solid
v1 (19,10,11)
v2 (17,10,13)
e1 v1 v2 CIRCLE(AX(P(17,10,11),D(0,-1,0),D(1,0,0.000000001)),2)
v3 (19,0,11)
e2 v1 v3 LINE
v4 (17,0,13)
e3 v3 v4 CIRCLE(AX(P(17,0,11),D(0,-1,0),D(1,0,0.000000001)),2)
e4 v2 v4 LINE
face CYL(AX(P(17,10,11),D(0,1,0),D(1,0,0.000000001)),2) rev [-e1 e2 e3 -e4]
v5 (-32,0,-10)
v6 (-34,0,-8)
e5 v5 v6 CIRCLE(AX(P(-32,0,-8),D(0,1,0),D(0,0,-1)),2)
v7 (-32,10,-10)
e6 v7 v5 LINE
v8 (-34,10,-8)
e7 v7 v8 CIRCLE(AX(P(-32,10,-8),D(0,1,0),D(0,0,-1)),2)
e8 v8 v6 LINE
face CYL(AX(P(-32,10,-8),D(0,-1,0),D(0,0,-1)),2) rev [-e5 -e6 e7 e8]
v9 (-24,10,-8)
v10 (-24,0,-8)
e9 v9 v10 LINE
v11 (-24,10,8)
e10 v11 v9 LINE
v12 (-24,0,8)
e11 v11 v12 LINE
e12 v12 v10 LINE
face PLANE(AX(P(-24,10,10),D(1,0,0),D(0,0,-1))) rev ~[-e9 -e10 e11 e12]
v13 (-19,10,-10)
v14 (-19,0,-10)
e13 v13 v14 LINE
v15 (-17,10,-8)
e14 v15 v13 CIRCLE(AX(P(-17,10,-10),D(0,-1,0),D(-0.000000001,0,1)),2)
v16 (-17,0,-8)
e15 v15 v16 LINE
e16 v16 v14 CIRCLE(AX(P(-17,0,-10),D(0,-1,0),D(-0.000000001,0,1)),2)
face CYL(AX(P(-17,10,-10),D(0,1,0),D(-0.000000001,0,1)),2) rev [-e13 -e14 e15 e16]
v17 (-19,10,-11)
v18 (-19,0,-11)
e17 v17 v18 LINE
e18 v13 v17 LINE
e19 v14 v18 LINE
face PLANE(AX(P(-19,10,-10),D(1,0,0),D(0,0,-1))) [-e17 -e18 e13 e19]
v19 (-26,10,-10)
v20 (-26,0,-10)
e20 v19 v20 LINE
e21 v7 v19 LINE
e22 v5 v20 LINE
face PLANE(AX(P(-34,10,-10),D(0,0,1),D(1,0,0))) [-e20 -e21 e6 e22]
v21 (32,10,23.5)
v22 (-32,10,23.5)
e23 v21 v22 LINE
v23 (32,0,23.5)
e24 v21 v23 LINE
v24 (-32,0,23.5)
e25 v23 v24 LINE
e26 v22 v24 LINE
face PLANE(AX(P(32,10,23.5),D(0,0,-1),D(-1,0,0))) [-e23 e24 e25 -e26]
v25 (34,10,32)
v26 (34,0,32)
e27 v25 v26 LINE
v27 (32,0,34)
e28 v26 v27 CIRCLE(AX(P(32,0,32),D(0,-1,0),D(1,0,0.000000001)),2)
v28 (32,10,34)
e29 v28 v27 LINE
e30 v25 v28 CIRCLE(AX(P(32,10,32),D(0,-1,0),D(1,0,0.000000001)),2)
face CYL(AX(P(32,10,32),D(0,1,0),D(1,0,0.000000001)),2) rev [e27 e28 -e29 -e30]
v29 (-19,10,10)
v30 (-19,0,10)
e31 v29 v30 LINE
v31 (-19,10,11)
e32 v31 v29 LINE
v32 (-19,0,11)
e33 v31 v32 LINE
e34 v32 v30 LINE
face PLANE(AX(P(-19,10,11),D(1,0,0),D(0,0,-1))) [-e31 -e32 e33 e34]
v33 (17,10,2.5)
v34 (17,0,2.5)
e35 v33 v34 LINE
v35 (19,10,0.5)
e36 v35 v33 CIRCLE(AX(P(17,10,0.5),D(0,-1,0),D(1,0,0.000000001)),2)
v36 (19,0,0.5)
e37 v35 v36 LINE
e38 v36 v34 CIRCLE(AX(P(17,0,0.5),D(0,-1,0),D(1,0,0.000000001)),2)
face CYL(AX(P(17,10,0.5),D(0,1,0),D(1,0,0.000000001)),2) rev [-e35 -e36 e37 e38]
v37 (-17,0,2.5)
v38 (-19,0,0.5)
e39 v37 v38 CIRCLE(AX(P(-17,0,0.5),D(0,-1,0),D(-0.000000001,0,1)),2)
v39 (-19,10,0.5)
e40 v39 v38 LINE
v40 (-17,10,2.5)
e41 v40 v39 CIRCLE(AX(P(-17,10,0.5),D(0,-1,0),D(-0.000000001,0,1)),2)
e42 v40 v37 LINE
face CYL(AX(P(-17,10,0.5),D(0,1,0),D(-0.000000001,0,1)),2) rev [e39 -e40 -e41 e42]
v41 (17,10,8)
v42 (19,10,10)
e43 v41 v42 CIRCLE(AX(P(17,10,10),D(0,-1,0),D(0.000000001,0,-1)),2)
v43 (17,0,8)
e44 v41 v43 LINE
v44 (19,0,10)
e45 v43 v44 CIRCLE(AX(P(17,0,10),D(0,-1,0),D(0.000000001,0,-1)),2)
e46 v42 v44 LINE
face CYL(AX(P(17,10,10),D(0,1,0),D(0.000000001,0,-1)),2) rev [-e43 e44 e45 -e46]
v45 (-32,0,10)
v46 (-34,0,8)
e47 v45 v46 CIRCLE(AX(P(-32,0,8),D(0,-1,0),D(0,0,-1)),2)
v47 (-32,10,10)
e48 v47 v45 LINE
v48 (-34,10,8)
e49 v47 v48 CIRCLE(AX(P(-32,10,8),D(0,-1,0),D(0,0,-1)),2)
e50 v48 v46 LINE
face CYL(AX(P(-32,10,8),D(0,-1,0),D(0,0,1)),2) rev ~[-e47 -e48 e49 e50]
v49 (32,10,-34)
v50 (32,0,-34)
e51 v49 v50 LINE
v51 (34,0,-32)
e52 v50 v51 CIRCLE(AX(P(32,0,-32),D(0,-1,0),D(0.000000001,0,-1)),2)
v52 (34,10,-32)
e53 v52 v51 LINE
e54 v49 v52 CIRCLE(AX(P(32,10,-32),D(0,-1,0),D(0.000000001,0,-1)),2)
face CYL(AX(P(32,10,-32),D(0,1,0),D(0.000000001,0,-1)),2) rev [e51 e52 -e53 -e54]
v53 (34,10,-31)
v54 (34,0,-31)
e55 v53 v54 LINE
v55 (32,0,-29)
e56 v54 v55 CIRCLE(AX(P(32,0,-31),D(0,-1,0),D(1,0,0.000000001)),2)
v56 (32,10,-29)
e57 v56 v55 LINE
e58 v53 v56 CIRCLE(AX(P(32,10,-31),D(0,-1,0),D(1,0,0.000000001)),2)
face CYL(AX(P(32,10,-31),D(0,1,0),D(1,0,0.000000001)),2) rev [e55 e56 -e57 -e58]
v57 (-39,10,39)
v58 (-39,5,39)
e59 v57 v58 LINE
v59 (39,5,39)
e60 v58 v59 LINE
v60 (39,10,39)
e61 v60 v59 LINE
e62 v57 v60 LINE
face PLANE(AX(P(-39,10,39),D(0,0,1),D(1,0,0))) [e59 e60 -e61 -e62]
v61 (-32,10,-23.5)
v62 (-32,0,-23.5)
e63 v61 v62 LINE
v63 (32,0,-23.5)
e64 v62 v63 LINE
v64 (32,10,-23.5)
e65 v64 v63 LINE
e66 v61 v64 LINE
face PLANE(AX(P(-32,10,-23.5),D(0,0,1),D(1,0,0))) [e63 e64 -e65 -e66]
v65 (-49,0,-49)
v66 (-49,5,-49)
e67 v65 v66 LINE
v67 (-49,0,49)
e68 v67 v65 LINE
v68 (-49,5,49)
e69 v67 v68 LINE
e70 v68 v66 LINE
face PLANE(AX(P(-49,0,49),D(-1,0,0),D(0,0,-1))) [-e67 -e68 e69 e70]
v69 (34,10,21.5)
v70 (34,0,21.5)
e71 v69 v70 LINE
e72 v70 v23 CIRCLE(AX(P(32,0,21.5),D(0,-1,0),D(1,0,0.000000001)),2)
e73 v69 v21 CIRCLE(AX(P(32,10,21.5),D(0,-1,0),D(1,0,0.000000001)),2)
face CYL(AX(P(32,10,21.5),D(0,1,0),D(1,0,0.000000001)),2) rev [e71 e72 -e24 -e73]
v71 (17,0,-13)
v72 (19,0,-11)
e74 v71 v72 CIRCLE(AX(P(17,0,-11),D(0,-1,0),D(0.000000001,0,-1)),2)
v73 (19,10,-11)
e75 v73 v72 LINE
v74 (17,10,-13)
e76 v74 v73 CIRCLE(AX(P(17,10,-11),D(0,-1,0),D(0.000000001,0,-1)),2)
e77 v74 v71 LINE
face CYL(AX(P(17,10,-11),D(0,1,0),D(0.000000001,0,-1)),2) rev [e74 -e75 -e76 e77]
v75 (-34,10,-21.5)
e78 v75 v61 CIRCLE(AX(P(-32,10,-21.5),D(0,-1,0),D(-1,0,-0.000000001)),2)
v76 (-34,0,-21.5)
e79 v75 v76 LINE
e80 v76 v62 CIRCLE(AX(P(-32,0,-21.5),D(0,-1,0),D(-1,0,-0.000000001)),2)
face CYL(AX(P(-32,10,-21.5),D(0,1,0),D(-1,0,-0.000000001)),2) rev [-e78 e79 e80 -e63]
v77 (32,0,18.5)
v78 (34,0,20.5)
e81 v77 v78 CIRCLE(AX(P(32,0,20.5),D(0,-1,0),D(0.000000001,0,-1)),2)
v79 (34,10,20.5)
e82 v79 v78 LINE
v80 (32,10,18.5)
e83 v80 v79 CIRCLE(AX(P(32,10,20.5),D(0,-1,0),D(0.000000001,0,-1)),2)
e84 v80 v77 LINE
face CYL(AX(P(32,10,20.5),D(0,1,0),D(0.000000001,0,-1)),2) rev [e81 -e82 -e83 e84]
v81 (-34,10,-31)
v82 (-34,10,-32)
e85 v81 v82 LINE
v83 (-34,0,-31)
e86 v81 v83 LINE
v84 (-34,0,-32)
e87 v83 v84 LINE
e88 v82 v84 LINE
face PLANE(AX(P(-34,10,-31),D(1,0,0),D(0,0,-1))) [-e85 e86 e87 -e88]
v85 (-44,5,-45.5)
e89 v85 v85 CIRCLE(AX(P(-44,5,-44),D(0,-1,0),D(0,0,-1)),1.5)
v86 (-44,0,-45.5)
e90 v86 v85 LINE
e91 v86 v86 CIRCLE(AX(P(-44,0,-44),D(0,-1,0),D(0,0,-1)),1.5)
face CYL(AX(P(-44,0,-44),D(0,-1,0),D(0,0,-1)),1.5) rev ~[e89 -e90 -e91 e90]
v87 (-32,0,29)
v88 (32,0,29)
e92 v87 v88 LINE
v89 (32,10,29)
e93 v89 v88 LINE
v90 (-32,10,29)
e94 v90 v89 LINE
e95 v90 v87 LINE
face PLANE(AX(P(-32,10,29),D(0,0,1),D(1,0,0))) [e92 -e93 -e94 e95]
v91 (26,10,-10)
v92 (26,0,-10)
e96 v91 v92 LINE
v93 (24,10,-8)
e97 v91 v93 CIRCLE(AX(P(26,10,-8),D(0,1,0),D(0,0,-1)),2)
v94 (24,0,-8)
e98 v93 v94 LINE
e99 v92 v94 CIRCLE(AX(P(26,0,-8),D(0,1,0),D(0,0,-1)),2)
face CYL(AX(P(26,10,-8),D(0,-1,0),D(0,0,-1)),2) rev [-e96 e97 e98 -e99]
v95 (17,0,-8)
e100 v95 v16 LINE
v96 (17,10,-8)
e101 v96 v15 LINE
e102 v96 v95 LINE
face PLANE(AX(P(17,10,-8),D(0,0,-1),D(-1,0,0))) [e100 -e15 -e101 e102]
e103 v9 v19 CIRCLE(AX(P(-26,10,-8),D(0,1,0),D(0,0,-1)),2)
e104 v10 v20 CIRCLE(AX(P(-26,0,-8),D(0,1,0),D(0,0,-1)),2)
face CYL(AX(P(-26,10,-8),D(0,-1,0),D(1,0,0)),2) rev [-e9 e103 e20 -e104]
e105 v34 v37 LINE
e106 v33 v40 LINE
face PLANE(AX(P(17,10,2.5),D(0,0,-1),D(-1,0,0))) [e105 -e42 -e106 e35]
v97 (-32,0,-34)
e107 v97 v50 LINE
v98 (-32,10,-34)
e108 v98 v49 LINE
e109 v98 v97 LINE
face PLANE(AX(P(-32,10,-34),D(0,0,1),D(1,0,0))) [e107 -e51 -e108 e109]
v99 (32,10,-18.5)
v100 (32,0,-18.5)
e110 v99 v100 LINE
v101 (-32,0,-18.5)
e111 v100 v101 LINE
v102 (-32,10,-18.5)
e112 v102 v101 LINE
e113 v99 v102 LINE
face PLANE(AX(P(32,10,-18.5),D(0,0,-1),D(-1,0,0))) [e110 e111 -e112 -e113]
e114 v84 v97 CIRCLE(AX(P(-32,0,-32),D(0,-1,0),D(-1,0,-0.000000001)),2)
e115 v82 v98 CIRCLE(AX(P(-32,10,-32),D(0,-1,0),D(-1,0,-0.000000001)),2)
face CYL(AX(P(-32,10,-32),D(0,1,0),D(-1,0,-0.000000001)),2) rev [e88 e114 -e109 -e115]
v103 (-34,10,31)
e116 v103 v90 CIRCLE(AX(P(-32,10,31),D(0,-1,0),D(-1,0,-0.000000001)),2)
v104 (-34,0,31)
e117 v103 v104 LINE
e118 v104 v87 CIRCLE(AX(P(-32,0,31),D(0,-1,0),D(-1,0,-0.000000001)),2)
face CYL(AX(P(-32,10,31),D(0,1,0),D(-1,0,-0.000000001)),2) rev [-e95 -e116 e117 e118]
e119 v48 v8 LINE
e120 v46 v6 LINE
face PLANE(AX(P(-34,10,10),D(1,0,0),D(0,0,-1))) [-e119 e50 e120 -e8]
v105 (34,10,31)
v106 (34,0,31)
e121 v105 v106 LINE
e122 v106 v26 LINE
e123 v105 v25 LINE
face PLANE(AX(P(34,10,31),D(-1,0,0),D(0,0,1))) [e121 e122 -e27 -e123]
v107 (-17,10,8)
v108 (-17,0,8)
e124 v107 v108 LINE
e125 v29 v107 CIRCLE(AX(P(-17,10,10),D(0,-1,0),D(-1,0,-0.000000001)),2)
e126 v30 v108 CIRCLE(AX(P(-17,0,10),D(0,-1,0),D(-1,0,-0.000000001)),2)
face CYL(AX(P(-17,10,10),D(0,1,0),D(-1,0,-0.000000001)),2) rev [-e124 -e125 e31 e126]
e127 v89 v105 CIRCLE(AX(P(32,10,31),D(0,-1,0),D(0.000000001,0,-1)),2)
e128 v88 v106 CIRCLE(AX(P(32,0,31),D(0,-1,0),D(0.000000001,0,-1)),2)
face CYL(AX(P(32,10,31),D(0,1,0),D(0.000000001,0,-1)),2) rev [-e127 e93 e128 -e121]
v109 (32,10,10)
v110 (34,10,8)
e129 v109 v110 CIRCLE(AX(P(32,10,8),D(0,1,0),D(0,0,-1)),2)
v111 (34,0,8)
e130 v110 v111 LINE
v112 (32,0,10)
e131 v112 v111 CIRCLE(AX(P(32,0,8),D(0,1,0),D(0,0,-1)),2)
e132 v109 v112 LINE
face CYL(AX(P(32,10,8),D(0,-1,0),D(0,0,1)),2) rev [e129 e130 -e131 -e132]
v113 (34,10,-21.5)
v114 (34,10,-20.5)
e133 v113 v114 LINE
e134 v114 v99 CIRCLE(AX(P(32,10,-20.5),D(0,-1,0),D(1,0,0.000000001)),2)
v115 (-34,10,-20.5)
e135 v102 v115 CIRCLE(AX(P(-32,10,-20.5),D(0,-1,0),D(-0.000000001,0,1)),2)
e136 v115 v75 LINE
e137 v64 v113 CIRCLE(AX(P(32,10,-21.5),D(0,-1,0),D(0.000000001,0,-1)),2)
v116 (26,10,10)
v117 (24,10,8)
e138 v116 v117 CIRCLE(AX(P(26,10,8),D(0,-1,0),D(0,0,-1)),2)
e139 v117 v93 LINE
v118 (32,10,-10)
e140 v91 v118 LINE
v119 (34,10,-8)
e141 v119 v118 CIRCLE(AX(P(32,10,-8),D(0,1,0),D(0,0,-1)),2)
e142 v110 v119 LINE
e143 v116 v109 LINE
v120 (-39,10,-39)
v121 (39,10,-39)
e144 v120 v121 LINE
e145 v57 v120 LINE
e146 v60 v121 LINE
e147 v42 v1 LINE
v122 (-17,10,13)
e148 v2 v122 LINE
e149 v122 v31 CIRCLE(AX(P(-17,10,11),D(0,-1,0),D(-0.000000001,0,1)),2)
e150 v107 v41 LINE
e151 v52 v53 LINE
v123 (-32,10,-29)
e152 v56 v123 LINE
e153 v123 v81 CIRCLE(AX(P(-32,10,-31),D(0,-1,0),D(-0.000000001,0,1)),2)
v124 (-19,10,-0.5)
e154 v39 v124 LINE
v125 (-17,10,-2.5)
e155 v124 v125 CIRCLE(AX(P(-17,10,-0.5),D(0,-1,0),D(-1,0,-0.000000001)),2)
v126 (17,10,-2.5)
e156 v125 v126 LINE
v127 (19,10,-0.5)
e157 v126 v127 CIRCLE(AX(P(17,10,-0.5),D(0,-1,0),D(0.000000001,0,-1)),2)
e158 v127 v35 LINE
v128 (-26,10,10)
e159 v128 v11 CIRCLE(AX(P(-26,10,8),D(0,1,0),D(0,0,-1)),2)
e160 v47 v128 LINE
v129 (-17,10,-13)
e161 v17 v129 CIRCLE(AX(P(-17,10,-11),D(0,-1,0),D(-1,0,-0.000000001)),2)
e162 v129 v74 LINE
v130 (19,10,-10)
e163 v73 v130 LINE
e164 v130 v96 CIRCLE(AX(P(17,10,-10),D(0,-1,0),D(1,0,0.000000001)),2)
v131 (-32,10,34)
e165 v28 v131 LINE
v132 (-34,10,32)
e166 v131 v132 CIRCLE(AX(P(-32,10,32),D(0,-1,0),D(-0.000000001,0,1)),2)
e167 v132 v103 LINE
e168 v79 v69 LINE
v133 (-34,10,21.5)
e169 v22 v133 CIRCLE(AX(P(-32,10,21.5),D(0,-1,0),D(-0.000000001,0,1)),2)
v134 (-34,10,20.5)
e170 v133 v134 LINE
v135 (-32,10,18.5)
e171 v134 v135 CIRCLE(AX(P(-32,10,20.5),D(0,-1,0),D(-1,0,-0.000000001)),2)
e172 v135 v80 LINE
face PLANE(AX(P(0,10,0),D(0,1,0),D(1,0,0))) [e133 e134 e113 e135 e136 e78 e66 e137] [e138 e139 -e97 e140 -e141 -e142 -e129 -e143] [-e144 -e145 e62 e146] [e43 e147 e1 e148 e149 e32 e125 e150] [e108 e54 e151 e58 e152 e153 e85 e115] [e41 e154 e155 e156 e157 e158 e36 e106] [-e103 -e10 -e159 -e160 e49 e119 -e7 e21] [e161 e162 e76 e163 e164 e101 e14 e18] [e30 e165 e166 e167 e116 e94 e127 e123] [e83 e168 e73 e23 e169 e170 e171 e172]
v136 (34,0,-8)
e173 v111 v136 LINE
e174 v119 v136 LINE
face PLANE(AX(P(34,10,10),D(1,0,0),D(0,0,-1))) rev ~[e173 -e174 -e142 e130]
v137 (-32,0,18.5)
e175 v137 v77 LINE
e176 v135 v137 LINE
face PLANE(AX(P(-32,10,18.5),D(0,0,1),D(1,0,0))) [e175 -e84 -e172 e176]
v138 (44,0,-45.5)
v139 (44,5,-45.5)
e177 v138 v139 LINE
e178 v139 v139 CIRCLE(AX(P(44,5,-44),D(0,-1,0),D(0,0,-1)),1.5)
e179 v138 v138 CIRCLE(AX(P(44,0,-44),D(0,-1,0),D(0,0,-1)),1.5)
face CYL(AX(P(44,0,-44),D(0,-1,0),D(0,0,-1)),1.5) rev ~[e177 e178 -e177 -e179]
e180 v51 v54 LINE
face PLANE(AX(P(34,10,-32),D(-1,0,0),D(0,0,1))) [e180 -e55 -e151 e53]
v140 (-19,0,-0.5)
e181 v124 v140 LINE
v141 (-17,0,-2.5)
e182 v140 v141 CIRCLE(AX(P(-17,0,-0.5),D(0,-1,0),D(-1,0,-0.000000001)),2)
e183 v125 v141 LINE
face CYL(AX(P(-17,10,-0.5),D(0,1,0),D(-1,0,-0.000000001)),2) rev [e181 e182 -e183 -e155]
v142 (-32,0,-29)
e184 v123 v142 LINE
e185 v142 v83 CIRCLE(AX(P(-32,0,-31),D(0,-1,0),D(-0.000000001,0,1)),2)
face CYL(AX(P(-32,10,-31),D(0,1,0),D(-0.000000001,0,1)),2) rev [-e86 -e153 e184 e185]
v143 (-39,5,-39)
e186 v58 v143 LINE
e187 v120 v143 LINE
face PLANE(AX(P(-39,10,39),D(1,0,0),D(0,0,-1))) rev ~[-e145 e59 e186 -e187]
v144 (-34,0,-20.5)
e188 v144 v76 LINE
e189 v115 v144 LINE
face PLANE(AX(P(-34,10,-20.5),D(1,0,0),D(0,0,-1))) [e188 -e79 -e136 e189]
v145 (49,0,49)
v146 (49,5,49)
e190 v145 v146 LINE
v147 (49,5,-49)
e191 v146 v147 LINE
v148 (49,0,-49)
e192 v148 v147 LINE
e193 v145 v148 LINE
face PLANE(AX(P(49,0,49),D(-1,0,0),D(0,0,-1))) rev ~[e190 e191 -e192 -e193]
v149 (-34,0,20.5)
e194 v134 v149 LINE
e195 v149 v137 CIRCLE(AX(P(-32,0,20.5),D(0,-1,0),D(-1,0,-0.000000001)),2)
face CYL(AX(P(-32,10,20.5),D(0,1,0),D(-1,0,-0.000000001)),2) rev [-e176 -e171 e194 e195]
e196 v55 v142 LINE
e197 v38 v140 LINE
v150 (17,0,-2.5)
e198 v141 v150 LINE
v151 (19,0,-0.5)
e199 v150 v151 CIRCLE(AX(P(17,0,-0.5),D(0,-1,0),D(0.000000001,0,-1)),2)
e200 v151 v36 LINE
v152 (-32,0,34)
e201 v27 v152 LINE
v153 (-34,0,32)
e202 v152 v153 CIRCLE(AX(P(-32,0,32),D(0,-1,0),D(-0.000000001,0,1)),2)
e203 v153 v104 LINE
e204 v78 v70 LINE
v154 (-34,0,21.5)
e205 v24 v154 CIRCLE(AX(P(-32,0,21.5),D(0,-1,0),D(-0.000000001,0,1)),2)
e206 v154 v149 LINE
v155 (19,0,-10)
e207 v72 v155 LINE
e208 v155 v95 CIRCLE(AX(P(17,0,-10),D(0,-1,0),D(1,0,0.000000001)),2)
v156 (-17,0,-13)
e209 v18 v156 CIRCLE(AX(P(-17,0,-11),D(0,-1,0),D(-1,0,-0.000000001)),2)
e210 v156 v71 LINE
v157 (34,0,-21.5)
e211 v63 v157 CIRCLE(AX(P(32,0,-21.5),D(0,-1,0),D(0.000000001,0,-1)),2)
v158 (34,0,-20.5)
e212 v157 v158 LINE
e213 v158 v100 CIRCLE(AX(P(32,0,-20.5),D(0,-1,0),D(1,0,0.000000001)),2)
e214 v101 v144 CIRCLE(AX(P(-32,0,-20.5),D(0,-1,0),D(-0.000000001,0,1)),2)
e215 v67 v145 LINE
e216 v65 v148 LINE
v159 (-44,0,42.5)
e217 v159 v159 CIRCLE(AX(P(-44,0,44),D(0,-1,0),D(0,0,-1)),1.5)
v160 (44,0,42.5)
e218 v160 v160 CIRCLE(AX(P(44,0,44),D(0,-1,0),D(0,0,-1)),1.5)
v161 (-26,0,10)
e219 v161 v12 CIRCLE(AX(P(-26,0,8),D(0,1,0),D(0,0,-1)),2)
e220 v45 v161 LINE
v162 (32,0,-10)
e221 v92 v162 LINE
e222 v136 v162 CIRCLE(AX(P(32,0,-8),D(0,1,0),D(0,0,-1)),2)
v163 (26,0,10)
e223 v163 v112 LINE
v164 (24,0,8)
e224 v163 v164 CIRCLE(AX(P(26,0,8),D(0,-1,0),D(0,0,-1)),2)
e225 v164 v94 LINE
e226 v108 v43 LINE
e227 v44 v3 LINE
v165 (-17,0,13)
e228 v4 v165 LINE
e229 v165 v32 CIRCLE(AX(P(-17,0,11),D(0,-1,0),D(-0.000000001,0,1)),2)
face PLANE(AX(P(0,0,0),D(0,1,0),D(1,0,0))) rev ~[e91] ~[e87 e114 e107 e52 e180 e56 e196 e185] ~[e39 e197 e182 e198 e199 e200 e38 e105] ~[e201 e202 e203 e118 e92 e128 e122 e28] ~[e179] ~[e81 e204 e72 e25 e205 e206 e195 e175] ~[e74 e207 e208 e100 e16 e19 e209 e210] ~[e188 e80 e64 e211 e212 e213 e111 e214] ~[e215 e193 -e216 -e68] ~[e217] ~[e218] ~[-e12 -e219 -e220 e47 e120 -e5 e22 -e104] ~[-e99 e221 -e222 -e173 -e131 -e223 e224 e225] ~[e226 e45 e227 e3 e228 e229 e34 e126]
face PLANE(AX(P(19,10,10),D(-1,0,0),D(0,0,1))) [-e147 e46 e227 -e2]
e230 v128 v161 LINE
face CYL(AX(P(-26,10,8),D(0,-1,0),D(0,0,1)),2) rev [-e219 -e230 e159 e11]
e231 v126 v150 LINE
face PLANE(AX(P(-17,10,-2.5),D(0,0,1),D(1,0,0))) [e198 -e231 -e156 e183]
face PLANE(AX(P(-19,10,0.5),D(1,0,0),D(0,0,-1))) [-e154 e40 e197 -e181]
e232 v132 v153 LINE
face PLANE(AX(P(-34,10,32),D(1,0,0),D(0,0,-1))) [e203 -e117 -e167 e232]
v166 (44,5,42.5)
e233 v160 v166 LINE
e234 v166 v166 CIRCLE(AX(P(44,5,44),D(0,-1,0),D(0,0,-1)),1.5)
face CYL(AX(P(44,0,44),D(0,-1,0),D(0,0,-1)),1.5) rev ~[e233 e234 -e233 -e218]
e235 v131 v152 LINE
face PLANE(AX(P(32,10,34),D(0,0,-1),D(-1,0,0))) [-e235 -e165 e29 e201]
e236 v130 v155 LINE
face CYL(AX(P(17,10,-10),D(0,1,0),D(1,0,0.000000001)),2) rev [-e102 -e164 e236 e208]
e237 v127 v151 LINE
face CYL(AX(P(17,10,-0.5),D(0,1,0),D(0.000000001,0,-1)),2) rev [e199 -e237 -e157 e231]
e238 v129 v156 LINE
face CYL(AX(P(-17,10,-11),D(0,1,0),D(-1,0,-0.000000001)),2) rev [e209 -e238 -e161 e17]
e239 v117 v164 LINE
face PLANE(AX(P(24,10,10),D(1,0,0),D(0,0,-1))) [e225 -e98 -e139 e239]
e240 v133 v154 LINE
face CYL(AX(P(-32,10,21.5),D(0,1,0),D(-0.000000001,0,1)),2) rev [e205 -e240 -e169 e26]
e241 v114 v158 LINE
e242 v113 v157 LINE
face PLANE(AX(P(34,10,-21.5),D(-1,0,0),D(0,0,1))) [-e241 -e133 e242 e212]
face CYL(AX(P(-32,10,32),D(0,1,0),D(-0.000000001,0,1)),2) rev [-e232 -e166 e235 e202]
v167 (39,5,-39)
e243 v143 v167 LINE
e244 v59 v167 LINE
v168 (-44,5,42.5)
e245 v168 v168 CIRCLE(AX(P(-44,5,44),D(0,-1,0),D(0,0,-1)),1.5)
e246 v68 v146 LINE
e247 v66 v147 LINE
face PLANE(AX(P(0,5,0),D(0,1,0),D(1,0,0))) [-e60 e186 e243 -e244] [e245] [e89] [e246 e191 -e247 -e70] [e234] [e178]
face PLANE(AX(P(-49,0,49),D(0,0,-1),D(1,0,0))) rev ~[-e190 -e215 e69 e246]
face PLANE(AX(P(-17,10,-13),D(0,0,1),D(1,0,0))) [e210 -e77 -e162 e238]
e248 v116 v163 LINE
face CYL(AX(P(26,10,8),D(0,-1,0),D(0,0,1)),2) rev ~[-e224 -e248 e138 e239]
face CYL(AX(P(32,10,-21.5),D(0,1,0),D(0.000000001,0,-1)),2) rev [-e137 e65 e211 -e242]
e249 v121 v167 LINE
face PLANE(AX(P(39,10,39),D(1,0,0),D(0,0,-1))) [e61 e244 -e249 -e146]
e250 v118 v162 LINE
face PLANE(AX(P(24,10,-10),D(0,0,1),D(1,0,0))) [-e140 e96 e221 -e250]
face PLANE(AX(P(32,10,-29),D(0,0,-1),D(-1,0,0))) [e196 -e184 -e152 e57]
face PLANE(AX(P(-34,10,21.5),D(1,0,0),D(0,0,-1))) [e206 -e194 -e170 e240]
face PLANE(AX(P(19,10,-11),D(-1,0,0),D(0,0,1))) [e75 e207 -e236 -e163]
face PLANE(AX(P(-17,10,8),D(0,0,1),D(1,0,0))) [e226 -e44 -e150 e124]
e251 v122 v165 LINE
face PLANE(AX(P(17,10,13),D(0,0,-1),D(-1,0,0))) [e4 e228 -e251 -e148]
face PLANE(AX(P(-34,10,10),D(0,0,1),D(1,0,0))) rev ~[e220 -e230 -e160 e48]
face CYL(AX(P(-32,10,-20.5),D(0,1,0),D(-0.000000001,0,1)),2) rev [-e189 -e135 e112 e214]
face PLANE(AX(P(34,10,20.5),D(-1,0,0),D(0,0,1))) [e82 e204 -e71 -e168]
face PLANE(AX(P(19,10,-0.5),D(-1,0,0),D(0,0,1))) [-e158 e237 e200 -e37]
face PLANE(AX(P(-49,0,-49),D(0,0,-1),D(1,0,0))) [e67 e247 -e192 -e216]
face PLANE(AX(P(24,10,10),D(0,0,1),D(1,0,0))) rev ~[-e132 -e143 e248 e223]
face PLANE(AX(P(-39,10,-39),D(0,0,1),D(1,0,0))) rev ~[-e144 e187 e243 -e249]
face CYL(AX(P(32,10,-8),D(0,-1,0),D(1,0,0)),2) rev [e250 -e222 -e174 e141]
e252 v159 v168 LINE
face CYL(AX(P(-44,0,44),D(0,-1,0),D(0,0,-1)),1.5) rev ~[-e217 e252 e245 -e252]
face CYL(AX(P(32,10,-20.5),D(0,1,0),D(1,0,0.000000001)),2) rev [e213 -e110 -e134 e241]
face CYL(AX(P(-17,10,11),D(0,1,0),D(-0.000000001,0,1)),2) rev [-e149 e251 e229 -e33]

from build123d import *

# Parameters (mm, degrees)
SKETCH1_W           = 98
SKETCH1_H           = 98
BOSS_EXTRUDE1_DEPTH = 10
SKETCH8_W           = 98
SKETCH8_H           = 98
SKETCH8_W_2         = 78
SKETCH8_H_2         = 78
CUT_EXTRUDE5_DEPTH  = 5
SKETCH14_R          = 1.5
CUT_EXTRUDE11_DEPTH = 10
SKETCH15_W          = 10
SKETCH15_H          = 20
CUT_EXTRUDE19_DEPTH = 10
FILLET1_R           = 2


with BuildPart() as part:
    # Sketch1 → Boss-Extrude1 (new body)
    with BuildSketch(Plane(origin=(0, 0, 0), x_dir=(1, 0, 0), z_dir=(0, 1, 0))):
        Rectangle(SKETCH1_W, SKETCH1_H)
    extrude(amount=BOSS_EXTRUDE1_DEPTH)

    # Sketch8 → Cut-Extrude5 (cut)
    with BuildSketch(Plane(origin=(0, 10, 0), x_dir=(1, 0, 0), z_dir=(0, 1, 0))):
        Rectangle(SKETCH8_W, SKETCH8_H)
        Rectangle(SKETCH8_W_2, SKETCH8_H_2, mode=Mode.SUBTRACT)
    extrude(amount=-CUT_EXTRUDE5_DEPTH, mode=Mode.SUBTRACT)

    # Sketch14 → Cut-Extrude11 (cut)
    with BuildSketch(Plane.XZ):
        with Locations(Location((-44, -44, 0), (0, 0, 270))):
            Circle(SKETCH14_R)
        with Locations(Location((-44, 44, 0), (0, 0, 270))):
            Circle(SKETCH14_R)
        with Locations(Location((44, 44, 0), (0, 0, 270))):
            Circle(SKETCH14_R)
        with Locations(Location((44, -44, 0), (0, 0, 270))):
            Circle(SKETCH14_R)
    extrude(amount=-CUT_EXTRUDE11_DEPTH, mode=Mode.SUBTRACT)

    # Sketch15 → Cut-Extrude19 (cut)
    with BuildSketch(Plane(origin=(0, 10, 0), x_dir=(1, 0, 0), z_dir=(0, 1, 0))):
        with BuildLine():
            ThreePointArc((-34, 32), (-33.414213562, 33.414213562), (-32, 34))
            Line((-32, 34), (32, 34))
            ThreePointArc((32, 34), (33.414213562, 33.414213562), (34, 32))
            Line((34, 32), (34, 31))
            ThreePointArc((34, 31), (33.414213562, 29.585786438), (32, 29))
            Line((32, 29), (14, 29))
            Line((14, 29), (-14, 29))
            Line((-14, 29), (-32, 29))
            ThreePointArc((-32, 29), (-33.414213562, 29.585786438), (-34, 31))
            Line((-34, 31), (-34, 32))
        make_face()
        with BuildLine():
            ThreePointArc((-34, 21.5), (-33.414213562, 22.914213562), (-32, 23.5))
            Line((-32, 23.5), (-14, 23.5))
            Line((-14, 23.5), (14, 23.5))
            Line((14, 23.5), (32, 23.5))
            ThreePointArc((32, 23.5), (33.414213562, 22.914213562), (34, 21.5))
            Line((34, 21.5), (34, 20.5))
            ThreePointArc((34, 20.5), (33.414213562, 19.085786438), (32, 18.5))
            Line((32, 18.5), (14, 18.5))
            Line((14, 18.5), (-14, 18.5))
            Line((-14, 18.5), (-32, 18.5))
            ThreePointArc((-32, 18.5), (-33.414213562, 19.085786438), (-34, 20.5))
            Line((-34, 20.5), (-34, 21.5))
        make_face()
        with BuildLine():
            ThreePointArc((-19, 11), (-18.414213562, 12.414213562), (-17, 13))
            Line((-17, 13), (-14, 13))
            Line((-14, 13), (14, 13))
            Line((14, 13), (17, 13))
            ThreePointArc((17, 13), (18.414213562, 12.414213562), (19, 11))
            Line((19, 11), (19, 10))
            ThreePointArc((19, 10), (18.414213562, 8.585786438), (17, 8))
            Line((17, 8), (14, 8))
            Line((14, 8), (-14, 8))
            Line((-14, 8), (-17, 8))
            ThreePointArc((-17, 8), (-18.414213562, 8.585786438), (-19, 10))
            Line((-19, 10), (-19, 11))
        make_face()
        with BuildLine():
            ThreePointArc((-19, 0.5), (-18.414213562, 1.914213562), (-17, 2.5))
            Line((-17, 2.5), (-14, 2.5))
            Line((-14, 2.5), (14, 2.5))
            Line((14, 2.5), (17, 2.5))
            ThreePointArc((17, 2.5), (18.414213562, 1.914213562), (19, 0.5))
            Line((19, 0.5), (19, -0.5))
            ThreePointArc((19, -0.5), (18.414213562, -1.914213562), (17, -2.5))
            Line((17, -2.5), (14, -2.5))
            Line((14, -2.5), (-14, -2.5))
            Line((-14, -2.5), (-17, -2.5))
            ThreePointArc((-17, -2.5), (-18.414213562, -1.914213562), (-19, -0.5))
            Line((-19, -0.5), (-19, 0.5))
        make_face()
        with BuildLine():
            ThreePointArc((-19, -10), (-18.414213562, -8.585786438), (-17, -8))
            Line((-17, -8), (-14, -8))
            Line((-14, -8), (14, -8))
            Line((14, -8), (17, -8))
            ThreePointArc((17, -8), (18.414213562, -8.585786438), (19, -10))
            Line((19, -10), (19, -11))
            ThreePointArc((19, -11), (18.414213562, -12.414213562), (17, -13))
            Line((17, -13), (14, -13))
            Line((14, -13), (-14, -13))
            Line((-14, -13), (-17, -13))
            ThreePointArc((-17, -13), (-18.414213562, -12.414213562), (-19, -11))
            Line((-19, -11), (-19, -10))
        make_face()
        with BuildLine():
            ThreePointArc((32, -18.5), (33.414213562, -19.085786438), (34, -20.5))
            Line((34, -20.5), (34, -21.5))
            ThreePointArc((34, -21.5), (33.414213562, -22.914213562), (32, -23.5))
            Line((32, -23.5), (14, -23.5))
            Line((14, -23.5), (-14, -23.5))
            Line((-14, -23.5), (-32, -23.5))
            ThreePointArc((-32, -23.5), (-33.414213562, -22.914213562), (-34, -21.5))
            Line((-34, -21.5), (-34, -20.5))
            ThreePointArc((-34, -20.5), (-33.414213562, -19.085786438), (-32, -18.5))
            Line((-32, -18.5), (-14, -18.5))
            Line((-14, -18.5), (14, -18.5))
            Line((14, -18.5), (32, -18.5))
        make_face()
        with BuildLine():
            ThreePointArc((32, -29), (33.414213562, -29.585786438), (34, -31))
            Line((34, -31), (34, -32))
            ThreePointArc((34, -32), (33.414213562, -33.414213562), (32, -34))
            Line((32, -34), (-32, -34))
            ThreePointArc((-32, -34), (-33.414213562, -33.414213562), (-34, -32))
            Line((-34, -32), (-34, -31))
            ThreePointArc((-34, -31), (-33.414213562, -29.585786438), (-32, -29))
            Line((-32, -29), (-14, -29))
            Line((-14, -29), (14, -29))
            Line((14, -29), (32, -29))
        make_face()
        with Locations((-29, 0)):
            Rectangle(SKETCH15_W, SKETCH15_H)
        with Locations((29, 0)):
            Rectangle(SKETCH15_W, SKETCH15_H)
    extrude(amount=-CUT_EXTRUDE19_DEPTH, mode=Mode.SUBTRACT)

    # Fillet1
    fillet1_edges = [part.edges().sort_by_distance(p)[0] for p in [
        (34, 5, -10),
        (34, 5, 10),
        (24, 5, 10),
        (24, 5, -10),
        (-34, 5, -10),
        (-24, 5, -10),
        (-24, 5, 10),
        (-34, 5, 10),
    ]]
    fillet(fillet1_edges, radius=FILLET1_R)


solid = part.part
